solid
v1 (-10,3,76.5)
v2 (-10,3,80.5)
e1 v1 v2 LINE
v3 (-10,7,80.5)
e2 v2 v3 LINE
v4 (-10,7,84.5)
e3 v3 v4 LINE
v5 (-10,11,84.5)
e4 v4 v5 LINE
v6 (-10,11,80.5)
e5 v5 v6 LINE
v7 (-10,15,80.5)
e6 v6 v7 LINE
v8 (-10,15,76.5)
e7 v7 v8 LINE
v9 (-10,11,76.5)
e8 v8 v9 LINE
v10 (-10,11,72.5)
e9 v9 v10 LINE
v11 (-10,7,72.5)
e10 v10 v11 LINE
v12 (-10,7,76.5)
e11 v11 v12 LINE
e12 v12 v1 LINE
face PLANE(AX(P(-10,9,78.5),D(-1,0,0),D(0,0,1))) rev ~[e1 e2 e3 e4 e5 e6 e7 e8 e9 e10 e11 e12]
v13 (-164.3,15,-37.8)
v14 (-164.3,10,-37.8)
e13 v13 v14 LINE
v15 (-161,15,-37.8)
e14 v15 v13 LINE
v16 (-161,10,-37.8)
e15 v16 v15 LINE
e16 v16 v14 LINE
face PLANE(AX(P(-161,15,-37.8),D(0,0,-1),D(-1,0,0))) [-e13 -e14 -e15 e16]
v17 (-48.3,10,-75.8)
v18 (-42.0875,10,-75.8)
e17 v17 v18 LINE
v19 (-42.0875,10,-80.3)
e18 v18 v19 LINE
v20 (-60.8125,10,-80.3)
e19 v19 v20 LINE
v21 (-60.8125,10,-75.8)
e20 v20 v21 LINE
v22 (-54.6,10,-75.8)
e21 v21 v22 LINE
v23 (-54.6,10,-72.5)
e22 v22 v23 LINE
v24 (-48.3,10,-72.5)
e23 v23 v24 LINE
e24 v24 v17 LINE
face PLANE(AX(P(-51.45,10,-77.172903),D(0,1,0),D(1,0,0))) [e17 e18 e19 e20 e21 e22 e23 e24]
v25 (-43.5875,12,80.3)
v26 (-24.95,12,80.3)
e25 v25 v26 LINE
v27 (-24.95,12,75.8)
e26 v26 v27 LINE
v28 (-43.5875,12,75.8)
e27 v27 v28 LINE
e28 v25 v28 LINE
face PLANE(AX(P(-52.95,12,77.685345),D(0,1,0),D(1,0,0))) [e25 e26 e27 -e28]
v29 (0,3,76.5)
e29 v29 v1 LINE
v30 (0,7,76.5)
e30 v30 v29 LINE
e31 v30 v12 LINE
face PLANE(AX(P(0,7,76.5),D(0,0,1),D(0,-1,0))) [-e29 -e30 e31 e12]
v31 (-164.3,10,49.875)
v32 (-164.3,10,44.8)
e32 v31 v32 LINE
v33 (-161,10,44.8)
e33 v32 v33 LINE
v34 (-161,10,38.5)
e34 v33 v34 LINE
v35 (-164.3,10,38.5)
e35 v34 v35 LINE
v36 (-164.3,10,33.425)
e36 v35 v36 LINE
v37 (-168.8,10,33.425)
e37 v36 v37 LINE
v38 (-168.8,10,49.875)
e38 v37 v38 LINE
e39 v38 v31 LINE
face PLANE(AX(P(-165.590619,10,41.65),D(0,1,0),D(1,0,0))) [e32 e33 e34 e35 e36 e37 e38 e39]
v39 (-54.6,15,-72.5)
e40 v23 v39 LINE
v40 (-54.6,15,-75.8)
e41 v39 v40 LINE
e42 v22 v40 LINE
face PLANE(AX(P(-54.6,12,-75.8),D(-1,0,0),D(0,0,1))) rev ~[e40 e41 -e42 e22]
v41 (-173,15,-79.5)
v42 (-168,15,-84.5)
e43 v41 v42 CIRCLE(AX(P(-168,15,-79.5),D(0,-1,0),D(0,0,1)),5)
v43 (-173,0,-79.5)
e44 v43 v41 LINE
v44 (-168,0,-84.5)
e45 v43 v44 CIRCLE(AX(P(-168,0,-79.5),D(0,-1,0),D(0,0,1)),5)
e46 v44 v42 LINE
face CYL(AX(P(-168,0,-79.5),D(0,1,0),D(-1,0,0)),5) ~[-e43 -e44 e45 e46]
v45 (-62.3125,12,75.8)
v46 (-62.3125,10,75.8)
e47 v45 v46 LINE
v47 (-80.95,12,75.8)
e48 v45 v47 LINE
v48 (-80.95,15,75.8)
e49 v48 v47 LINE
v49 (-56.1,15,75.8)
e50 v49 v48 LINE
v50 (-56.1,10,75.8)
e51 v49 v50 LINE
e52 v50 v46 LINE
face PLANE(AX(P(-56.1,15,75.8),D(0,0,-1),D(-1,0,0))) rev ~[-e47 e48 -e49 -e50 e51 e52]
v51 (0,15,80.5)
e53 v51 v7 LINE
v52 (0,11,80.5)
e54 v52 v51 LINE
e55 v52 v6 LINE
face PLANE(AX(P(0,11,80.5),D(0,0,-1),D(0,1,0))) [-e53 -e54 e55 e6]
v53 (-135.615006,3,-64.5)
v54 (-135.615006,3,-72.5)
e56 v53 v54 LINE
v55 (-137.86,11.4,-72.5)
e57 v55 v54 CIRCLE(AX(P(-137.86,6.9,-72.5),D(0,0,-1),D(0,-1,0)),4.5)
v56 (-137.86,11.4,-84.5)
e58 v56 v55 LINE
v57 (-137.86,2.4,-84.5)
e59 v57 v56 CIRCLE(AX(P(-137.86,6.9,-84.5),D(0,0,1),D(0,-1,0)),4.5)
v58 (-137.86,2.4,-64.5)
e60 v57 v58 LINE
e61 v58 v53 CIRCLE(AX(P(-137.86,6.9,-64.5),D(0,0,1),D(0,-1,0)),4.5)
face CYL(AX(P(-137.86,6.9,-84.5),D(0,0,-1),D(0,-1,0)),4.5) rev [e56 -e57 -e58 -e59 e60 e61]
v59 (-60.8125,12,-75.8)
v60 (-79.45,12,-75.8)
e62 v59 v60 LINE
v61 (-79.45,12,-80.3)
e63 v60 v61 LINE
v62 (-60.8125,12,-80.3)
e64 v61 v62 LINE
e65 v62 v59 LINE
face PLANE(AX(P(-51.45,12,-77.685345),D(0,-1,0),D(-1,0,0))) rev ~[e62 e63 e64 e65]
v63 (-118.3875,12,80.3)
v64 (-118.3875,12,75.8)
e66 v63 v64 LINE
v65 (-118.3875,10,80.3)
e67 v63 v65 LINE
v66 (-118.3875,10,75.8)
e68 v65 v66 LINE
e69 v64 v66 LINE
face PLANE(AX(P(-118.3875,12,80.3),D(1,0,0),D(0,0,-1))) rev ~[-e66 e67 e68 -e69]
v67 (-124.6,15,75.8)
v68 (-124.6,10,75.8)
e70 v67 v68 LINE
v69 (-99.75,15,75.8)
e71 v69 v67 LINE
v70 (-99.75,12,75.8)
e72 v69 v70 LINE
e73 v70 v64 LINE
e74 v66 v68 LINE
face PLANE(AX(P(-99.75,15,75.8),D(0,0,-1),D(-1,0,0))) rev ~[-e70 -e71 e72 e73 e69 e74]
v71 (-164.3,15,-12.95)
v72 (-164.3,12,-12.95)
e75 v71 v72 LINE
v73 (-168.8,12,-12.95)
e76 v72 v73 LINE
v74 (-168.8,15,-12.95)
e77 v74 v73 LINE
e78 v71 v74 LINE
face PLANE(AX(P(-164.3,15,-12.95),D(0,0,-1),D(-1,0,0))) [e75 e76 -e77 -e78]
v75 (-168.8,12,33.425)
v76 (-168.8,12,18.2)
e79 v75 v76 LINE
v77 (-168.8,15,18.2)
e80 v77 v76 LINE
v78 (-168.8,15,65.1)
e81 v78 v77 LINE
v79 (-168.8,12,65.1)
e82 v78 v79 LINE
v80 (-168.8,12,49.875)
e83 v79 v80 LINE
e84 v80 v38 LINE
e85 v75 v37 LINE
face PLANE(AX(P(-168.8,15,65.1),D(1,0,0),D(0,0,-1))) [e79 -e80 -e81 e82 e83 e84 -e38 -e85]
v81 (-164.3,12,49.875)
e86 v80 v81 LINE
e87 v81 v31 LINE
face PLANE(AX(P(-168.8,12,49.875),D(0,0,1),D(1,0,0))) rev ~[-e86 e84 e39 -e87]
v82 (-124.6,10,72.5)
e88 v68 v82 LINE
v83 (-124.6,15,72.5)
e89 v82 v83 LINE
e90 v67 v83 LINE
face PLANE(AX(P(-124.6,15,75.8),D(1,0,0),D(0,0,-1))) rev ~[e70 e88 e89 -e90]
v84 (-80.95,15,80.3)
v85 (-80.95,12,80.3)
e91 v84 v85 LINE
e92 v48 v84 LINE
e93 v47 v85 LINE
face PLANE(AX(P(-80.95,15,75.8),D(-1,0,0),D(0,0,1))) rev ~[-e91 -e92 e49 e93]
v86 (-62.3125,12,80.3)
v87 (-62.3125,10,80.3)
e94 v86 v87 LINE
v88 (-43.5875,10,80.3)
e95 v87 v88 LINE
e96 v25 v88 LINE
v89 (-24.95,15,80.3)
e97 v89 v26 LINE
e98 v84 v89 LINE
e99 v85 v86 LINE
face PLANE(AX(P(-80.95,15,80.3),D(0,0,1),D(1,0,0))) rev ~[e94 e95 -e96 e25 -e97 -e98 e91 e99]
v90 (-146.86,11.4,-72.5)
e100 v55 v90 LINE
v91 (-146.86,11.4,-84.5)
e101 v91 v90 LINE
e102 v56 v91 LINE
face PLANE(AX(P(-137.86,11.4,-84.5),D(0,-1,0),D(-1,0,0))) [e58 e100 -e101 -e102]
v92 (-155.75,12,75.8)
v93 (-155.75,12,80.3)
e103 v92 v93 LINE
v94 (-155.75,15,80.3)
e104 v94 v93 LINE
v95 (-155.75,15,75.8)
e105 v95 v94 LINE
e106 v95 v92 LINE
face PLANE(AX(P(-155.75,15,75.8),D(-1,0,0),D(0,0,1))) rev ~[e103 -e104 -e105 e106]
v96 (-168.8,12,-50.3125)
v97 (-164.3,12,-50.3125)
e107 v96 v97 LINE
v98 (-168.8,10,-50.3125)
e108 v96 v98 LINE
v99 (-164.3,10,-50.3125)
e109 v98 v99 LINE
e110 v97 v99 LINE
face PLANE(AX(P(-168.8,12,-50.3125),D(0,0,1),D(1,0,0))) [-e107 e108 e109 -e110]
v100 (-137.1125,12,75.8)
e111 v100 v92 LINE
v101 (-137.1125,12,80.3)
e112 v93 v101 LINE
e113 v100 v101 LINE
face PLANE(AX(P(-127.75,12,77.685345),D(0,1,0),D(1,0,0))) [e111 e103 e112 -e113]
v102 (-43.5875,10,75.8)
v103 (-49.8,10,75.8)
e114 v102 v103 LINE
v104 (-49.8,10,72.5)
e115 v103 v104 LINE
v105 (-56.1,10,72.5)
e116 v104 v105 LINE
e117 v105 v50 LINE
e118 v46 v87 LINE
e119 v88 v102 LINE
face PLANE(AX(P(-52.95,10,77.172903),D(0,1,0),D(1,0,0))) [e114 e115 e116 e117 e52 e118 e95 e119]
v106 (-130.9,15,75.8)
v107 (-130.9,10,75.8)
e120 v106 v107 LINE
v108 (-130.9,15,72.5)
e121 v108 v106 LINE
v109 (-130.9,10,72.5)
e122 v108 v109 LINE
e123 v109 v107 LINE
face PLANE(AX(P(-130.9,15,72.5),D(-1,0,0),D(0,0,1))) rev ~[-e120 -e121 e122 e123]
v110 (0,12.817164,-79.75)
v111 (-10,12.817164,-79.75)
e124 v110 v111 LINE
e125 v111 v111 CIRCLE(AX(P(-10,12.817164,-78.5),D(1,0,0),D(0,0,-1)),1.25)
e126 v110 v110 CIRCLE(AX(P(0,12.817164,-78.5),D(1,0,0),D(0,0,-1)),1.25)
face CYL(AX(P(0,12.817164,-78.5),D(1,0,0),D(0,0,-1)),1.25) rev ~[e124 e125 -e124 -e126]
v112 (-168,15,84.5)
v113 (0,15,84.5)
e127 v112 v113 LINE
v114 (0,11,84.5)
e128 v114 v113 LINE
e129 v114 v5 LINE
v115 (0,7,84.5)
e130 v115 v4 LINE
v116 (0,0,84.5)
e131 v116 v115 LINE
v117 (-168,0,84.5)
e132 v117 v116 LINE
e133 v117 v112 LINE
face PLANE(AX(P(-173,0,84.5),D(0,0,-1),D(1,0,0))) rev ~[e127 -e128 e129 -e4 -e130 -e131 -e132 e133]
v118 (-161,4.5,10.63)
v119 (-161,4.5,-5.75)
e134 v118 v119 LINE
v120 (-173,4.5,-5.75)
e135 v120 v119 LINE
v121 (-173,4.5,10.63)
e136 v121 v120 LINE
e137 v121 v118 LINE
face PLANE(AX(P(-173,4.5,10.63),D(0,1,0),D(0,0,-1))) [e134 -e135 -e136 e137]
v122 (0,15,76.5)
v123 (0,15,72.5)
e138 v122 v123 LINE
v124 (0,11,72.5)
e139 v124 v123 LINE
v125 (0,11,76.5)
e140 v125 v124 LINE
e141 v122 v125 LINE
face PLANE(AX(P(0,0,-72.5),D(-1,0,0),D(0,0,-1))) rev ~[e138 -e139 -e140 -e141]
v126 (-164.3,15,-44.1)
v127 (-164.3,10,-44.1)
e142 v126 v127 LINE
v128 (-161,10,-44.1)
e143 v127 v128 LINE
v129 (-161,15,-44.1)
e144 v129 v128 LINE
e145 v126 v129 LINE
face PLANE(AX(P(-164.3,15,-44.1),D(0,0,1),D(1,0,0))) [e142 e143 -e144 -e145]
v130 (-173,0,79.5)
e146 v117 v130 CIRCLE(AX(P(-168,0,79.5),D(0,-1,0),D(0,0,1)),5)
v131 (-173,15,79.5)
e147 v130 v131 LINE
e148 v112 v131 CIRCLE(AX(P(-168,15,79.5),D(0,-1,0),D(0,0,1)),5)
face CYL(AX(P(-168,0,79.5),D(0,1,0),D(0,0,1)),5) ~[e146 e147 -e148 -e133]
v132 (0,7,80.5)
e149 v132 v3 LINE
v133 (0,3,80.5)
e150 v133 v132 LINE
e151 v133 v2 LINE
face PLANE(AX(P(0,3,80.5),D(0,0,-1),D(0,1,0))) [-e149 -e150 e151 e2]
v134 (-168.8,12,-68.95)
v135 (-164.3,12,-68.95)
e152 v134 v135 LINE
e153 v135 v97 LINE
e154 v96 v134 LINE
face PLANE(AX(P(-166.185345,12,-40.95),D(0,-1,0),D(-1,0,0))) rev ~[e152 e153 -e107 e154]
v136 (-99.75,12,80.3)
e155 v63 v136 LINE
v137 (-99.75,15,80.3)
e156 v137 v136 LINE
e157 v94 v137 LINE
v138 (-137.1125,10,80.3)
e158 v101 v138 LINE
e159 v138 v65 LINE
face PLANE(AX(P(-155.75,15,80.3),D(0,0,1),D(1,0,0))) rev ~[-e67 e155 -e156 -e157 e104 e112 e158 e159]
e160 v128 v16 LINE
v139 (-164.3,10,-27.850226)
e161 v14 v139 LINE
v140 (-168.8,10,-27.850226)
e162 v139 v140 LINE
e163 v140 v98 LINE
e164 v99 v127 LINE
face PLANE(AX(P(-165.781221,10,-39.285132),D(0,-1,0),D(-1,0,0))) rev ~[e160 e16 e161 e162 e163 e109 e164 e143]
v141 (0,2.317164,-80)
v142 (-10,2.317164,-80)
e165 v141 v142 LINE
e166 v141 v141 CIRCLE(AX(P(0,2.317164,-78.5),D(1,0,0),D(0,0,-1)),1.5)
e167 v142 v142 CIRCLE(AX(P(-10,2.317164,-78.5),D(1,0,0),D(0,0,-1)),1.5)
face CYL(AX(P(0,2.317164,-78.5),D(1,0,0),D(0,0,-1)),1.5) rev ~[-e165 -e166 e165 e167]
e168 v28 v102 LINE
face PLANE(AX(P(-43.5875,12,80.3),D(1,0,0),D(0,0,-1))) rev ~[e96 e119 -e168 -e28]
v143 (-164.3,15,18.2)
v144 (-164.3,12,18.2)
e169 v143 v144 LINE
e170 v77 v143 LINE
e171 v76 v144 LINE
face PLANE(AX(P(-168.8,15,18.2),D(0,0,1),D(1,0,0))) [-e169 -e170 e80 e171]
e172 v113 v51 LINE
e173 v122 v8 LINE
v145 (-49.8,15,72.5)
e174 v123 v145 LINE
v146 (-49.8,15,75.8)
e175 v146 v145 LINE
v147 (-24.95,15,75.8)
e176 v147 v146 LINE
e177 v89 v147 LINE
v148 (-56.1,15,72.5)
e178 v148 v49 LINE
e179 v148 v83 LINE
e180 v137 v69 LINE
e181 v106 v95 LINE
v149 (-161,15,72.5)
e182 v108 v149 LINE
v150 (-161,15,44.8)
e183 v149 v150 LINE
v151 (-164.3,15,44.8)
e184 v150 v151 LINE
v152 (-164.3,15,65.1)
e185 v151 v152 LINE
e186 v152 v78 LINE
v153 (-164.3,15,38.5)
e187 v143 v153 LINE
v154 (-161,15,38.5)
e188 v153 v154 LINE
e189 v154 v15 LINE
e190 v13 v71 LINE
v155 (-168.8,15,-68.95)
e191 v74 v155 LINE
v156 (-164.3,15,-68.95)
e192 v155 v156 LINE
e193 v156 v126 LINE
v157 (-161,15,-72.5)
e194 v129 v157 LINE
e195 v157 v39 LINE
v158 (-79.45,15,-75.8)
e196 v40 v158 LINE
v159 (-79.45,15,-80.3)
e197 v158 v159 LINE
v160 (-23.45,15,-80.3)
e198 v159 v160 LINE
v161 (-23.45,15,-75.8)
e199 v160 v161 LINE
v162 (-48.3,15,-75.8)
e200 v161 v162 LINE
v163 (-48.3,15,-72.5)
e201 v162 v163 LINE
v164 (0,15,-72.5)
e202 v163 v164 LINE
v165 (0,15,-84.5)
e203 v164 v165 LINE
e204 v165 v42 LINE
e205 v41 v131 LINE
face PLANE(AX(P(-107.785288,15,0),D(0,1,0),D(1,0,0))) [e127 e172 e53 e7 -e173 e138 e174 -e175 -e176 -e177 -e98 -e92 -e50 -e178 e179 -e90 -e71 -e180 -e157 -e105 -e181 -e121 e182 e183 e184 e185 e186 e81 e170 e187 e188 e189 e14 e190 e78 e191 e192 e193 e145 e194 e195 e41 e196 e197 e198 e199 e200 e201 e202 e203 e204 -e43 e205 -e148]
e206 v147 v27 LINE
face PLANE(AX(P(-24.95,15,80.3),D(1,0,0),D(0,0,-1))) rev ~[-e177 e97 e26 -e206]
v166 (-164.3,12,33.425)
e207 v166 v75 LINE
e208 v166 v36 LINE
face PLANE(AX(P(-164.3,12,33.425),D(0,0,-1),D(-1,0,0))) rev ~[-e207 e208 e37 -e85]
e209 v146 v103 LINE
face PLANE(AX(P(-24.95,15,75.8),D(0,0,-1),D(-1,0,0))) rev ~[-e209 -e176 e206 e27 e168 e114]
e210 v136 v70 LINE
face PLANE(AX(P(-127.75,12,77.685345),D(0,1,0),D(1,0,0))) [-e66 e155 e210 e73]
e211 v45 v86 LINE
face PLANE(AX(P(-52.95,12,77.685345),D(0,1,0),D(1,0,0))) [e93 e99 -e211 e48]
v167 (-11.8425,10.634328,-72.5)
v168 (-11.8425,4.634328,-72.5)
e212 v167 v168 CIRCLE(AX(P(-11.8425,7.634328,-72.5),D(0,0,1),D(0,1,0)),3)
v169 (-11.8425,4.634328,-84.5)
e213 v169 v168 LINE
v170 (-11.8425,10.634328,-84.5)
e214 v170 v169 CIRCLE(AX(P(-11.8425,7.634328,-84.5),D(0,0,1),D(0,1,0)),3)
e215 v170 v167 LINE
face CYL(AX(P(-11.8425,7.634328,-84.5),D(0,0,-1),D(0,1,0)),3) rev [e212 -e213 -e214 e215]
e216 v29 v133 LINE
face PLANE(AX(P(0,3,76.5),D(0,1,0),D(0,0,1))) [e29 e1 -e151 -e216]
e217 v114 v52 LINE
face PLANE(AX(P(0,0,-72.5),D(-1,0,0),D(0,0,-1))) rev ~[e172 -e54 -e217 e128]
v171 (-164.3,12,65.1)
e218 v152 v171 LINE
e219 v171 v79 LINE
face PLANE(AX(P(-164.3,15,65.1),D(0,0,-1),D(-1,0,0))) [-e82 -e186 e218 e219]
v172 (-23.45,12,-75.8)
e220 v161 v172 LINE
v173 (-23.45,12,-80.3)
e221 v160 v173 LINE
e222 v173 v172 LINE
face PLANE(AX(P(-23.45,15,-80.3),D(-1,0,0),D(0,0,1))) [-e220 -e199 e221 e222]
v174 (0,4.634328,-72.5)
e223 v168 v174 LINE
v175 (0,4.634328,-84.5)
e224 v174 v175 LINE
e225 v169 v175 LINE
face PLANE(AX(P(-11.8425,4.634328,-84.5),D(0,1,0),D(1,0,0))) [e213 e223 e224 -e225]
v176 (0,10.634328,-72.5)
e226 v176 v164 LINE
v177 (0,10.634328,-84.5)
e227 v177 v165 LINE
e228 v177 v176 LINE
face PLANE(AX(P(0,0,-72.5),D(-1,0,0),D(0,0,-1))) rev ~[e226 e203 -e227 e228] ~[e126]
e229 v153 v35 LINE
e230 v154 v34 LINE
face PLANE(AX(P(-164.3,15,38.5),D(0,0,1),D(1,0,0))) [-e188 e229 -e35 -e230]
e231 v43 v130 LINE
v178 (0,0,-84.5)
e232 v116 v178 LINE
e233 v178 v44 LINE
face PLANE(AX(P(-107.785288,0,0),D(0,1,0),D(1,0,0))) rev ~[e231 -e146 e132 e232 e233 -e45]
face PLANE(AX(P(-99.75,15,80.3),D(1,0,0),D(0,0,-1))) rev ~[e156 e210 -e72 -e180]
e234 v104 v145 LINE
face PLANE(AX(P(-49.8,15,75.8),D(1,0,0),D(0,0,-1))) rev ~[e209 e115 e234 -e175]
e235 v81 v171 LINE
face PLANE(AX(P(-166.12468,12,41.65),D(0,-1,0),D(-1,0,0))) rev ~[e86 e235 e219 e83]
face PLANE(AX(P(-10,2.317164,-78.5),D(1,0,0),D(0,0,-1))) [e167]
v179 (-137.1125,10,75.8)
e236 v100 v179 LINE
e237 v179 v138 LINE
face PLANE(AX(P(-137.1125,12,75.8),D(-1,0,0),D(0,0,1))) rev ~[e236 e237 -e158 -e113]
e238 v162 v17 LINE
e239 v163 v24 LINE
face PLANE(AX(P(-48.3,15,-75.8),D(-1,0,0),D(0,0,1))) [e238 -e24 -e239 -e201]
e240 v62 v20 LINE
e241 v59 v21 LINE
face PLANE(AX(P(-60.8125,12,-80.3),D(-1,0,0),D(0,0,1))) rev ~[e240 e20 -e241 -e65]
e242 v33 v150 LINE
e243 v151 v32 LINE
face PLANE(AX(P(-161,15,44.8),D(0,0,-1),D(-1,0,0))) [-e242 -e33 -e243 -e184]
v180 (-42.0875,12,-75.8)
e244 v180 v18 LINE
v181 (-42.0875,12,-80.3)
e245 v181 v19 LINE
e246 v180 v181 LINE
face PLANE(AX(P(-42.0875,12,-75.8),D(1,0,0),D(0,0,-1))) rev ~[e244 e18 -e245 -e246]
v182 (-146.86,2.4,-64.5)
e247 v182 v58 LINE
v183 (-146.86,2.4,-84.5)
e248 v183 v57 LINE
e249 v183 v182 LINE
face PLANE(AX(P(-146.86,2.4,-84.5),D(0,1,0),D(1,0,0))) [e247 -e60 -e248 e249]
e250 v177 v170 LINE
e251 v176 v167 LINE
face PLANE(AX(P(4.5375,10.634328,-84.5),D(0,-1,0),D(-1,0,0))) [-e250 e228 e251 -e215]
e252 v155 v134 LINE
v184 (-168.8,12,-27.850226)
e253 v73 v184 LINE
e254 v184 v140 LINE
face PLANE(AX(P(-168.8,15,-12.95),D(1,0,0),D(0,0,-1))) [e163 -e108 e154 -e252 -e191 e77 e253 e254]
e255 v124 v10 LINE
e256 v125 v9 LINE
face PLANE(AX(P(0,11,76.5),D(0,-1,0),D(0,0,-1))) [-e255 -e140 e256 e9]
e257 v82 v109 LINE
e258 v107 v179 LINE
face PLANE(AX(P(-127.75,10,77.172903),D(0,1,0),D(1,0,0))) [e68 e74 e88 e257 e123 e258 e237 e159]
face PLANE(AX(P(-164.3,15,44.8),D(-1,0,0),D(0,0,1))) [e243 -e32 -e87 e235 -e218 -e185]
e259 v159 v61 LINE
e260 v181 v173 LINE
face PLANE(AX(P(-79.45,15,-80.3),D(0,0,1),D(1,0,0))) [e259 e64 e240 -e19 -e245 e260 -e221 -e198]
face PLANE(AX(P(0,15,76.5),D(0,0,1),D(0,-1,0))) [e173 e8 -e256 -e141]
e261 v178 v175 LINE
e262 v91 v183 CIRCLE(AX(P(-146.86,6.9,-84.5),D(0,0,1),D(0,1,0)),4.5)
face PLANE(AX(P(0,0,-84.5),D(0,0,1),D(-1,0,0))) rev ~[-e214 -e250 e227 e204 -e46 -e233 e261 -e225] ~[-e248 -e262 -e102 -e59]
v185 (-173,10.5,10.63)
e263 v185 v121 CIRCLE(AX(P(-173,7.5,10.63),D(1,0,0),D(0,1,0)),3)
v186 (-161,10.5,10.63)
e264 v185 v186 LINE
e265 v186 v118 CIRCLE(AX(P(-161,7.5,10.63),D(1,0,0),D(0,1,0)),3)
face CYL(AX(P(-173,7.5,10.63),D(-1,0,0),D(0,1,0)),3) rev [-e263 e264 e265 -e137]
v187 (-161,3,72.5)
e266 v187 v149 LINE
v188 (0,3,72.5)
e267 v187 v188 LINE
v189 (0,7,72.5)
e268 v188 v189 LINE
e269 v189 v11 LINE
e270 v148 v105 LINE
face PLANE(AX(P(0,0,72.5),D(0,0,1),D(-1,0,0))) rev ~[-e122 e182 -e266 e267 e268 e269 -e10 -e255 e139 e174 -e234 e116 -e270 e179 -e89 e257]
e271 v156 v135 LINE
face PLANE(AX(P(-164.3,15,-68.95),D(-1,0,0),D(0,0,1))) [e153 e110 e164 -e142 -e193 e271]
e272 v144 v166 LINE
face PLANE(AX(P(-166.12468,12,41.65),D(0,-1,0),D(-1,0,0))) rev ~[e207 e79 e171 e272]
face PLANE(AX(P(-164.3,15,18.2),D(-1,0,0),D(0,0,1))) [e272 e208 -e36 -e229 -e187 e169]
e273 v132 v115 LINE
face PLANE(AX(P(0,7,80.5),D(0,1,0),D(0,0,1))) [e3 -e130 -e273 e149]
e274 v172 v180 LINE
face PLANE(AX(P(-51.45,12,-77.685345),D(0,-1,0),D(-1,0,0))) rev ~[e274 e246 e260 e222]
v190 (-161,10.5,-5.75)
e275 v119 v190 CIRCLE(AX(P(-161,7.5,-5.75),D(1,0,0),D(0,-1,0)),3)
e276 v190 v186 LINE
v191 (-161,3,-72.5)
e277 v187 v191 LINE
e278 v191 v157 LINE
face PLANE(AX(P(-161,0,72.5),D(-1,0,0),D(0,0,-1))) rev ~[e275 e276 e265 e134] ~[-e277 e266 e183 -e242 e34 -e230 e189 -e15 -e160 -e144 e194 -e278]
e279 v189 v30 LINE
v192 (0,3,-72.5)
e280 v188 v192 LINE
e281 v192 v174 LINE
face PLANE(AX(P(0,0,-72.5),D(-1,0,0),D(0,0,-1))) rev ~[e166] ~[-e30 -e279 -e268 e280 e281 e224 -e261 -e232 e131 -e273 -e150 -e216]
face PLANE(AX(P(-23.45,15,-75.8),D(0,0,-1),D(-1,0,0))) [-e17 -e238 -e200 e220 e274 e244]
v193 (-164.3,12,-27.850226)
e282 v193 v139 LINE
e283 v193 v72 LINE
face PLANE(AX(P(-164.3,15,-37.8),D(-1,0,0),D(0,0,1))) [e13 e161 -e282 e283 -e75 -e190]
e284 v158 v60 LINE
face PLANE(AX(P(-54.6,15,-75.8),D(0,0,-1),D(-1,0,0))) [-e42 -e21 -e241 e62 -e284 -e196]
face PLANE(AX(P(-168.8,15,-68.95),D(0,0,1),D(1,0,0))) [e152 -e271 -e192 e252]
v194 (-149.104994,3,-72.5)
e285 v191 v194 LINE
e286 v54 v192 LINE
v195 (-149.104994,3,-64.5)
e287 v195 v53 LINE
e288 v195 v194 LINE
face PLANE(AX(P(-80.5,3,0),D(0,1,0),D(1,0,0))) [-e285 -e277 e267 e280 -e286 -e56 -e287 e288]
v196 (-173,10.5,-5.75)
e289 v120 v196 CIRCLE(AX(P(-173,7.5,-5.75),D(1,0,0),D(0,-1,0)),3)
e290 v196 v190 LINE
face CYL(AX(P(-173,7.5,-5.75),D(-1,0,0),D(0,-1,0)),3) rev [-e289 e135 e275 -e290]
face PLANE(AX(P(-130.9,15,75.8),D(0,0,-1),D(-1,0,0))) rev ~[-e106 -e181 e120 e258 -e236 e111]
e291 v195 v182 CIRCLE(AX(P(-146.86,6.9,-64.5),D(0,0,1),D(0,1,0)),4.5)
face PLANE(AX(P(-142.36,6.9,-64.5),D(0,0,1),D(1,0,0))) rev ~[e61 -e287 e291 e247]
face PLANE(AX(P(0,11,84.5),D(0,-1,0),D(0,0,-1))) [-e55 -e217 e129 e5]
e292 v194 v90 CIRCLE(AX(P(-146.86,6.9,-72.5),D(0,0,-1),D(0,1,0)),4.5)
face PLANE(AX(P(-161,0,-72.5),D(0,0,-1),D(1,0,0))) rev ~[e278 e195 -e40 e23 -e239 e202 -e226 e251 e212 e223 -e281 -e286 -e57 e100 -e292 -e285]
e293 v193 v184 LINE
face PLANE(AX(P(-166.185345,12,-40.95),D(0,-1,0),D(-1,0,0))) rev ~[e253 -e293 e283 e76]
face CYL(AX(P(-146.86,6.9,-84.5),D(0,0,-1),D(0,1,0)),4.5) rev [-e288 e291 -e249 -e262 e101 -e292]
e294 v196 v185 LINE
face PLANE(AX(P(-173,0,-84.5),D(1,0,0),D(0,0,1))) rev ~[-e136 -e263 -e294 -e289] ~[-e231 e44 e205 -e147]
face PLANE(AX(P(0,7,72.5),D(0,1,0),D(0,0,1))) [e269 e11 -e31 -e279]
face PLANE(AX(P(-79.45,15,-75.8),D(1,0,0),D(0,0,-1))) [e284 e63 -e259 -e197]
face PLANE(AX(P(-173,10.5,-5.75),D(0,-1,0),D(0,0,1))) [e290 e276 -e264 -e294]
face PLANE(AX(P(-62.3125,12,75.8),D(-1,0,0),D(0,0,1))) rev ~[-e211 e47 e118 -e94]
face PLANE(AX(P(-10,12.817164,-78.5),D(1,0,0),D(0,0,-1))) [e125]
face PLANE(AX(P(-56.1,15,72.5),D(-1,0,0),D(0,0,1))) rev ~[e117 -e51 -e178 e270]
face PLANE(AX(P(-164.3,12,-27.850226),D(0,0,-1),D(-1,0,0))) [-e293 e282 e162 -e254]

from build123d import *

# Parameters (mm, degrees)
SKETCH1_W           = 161
SKETCH1_H           = 145
BOSS_EXTRUDE1_DEPTH = 3
BOSS_EXTRUDE2_DEPTH = 15
CUT_EXTRUDE1_DEPTH  = 3
CUT_EXTRUDE2_DEPTH  = 2
CUT_EXTRUDE3_DEPTH  = 12
CUT_EXTRUDE5_DEPTH  = 12
CUT_EXTRUDE6_DEPTH  = 20
CUT_EXTRUDE8_DEPTH  = 10
FILLET2_R           = 5
FILLET3_R           = 5
SKETCH11_R          = 1.5
SKETCH11_R_2        = 1.25
CUT_EXTRUDE9_DEPTH  = 10


with BuildPart() as part:
    # Sketch1 → Boss-Extrude1 (new body)
    with BuildSketch(Plane(origin=(0, 0, 0), x_dir=(1, 0, 0), z_dir=(0, 1, 0))):
        with Locations((-80.5, 0)):
            Rectangle(SKETCH1_W, SKETCH1_H)
    extrude(amount=BOSS_EXTRUDE1_DEPTH)

    # Sketch2 → Boss-Extrude2 (add)
    with BuildSketch(Plane(origin=(0, 0, 0), x_dir=(1, 0, 0), z_dir=(0, 1, 0))):
        Polygon((0, 72.5), (0, 84.5), (-173, 84.5), (-173, -84.5), (0, -84.5), (0, -72.5), (-161, -72.5), (-161, 72.5), align=None)
    extrude(amount=BOSS_EXTRUDE2_DEPTH)

    # Sketch3 → Cut-Extrude1 (cut)
    with BuildSketch(Plane(origin=(0, 15, 0), x_dir=(1, 0, 0), z_dir=(0, 1, 0))):
        Polygon((-161, 44.1), (-161, 37.8), (-164.3, 37.8), (-164.3, 12.95), (-168.8, 12.95), (-168.8, 68.95), (-164.3, 68.95), (-164.3, 44.1), align=None)
        Polygon((-24.95, -75.8), (-49.8, -75.8), (-49.8, -72.5), (-56.1, -72.5), (-56.1, -75.8), (-80.95, -75.8), (-80.95, -80.3), (-24.95, -80.3), align=None)
        Polygon((-161, -38.5), (-161, -44.8), (-164.3, -44.8), (-164.3, -65.1), (-168.8, -65.1), (-168.8, -18.2), (-164.3, -18.2), (-164.3, -38.5), align=None)
        Polygon((-99.75, -80.3), (-99.75, -75.8), (-124.6, -75.8), (-124.6, -72.5), (-130.9, -72.5), (-130.9, -75.8), (-155.75, -75.8), (-155.75, -80.3), align=None)
        Polygon((-48.3, 75.8), (-48.3, 72.5), (-54.6, 72.5), (-54.6, 75.8), (-79.45, 75.8), (-79.45, 80.3), (-23.45, 80.3), (-23.45, 75.8), align=None)
    extrude(amount=-CUT_EXTRUDE1_DEPTH, mode=Mode.SUBTRACT)

    # Sketch4 → Cut-Extrude2 (cut)
    with BuildSketch(Plane(origin=(0, 12, 0), x_dir=(1, 0, 0), z_dir=(0, 1, 0))):
        Polygon((-54.6, 72.5), (-48.3, 72.5), (-48.3, 75.8), (-42.0875, 75.8), (-42.0875, 80.3), (-60.8125, 80.3), (-60.8125, 75.8), (-54.6, 75.8), align=None)
        Polygon((-161, 44.1), (-161, 37.8), (-164.3, 37.8), (-164.3, 27.850226284), (-168.8, 27.850226284), (-168.8, 50.3125), (-164.3, 50.3125), (-164.3, 44.1), align=None)
        Polygon((-168.8, -33.425), (-168.8, -49.875), (-164.3, -49.875), (-164.3, -44.8), (-161, -44.8), (-161, -38.5), (-164.3, -38.5), (-164.3, -33.425), align=None)
        Polygon((-130.9, -72.5), (-130.9, -75.8), (-137.1125, -75.8), (-137.1125, -80.3), (-118.3875, -80.3), (-118.3875, -75.8), (-124.6, -75.8), (-124.6, -72.5), align=None)
        Polygon((-56.1, -75.8), (-62.3125, -75.8), (-62.3125, -80.3), (-43.5875, -80.3), (-43.5875, -75.8), (-49.8, -75.8), (-49.8, -72.5), (-56.1, -72.5), align=None)
    extrude(amount=-CUT_EXTRUDE2_DEPTH, mode=Mode.SUBTRACT)

    # Sketch5 → Cut-Extrude3 (cut)
    with BuildSketch(Plane.ZY.offset(173)):
        with BuildLine():
            Line((-5.75, 10.5), (10.63, 10.5))
            ThreePointArc((10.63, 10.5), (13.63, 7.5), (10.63, 4.5))
            Line((10.63, 4.5), (-5.75, 4.5))
            ThreePointArc((-5.75, 4.5), (-8.75, 7.5), (-5.75, 10.5))
        make_face()
    extrude(amount=-CUT_EXTRUDE3_DEPTH, mode=Mode.SUBTRACT)

    # Sketch7 → Cut-Extrude5 (cut)
    with BuildSketch(Plane(origin=(0, 0, -84.5), x_dir=(-1, 0, 0), z_dir=(0, 0, -1))):
        with BuildLine():
            Line((-4.5375, 10.634328206), (11.8425, 10.634328206))
            ThreePointArc((11.8425, 10.634328206), (14.8425, 7.634328206), (11.8425, 4.634328206))
            Line((11.8425, 4.634328206), (-4.5375, 4.634328206))
            ThreePointArc((-4.5375, 4.634328206), (-7.5375, 7.634328206), (-4.5375, 10.634328206))
        make_face()
    extrude(amount=-CUT_EXTRUDE5_DEPTH, mode=Mode.SUBTRACT)

    # Sketch8 → Cut-Extrude6 (cut)
    with BuildSketch(Plane(origin=(0, 0, -84.5), x_dir=(-1, 0, 0), z_dir=(0, 0, -1))):
        with BuildLine():
            Line((137.86, 11.4), (146.86, 11.4))
            ThreePointArc((146.86, 11.4), (151.36, 6.9), (146.86, 2.4))
            Line((146.86, 2.4), (137.86, 2.4))
            ThreePointArc((137.86, 2.4), (133.36, 6.9), (137.86, 11.4))
        make_face()
    extrude(amount=-CUT_EXTRUDE6_DEPTH, mode=Mode.SUBTRACT)

    # Sketch10 → Cut-Extrude8 (cut)
    with BuildSketch(Plane(origin=(0, 0, 0), x_dir=(0, 0, -1), z_dir=(1, 0, 0))):
        Polygon((-80.5, 15), (-76.5, 15), (-76.5, 11), (-72.5, 11), (-72.5, 7), (-76.5, 7), (-76.5, 3), (-80.5, 3), (-80.5, 7), (-84.5, 7), (-84.5, 11), (-80.5, 11), align=None)
    extrude(amount=-CUT_EXTRUDE8_DEPTH, mode=Mode.SUBTRACT)

    # Fillet2
    fillet2_edges = [part.edges().sort_by_distance(p)[0] for p in [
        (-173, 7.5, 84.5),
    ]]
    fillet(fillet2_edges, radius=FILLET2_R)

    # Fillet3
    fillet3_edges = [part.edges().sort_by_distance(p)[0] for p in [
        (-173, 7.5, -84.5),
    ]]
    fillet(fillet3_edges, radius=FILLET3_R)

    # Sketch11 → Cut-Extrude9 (cut)
    with BuildSketch(Plane(origin=(0, 0, 0), x_dir=(0, 0, -1), z_dir=(1, 0, 0))):
        with Locations((78.5, 2.317164103)):
            Circle(SKETCH11_R)
        with Locations((78.5, 12.817164103)):
            Circle(SKETCH11_R_2)
    extrude(amount=-CUT_EXTRUDE9_DEPTH, mode=Mode.SUBTRACT)


solid = part.part
